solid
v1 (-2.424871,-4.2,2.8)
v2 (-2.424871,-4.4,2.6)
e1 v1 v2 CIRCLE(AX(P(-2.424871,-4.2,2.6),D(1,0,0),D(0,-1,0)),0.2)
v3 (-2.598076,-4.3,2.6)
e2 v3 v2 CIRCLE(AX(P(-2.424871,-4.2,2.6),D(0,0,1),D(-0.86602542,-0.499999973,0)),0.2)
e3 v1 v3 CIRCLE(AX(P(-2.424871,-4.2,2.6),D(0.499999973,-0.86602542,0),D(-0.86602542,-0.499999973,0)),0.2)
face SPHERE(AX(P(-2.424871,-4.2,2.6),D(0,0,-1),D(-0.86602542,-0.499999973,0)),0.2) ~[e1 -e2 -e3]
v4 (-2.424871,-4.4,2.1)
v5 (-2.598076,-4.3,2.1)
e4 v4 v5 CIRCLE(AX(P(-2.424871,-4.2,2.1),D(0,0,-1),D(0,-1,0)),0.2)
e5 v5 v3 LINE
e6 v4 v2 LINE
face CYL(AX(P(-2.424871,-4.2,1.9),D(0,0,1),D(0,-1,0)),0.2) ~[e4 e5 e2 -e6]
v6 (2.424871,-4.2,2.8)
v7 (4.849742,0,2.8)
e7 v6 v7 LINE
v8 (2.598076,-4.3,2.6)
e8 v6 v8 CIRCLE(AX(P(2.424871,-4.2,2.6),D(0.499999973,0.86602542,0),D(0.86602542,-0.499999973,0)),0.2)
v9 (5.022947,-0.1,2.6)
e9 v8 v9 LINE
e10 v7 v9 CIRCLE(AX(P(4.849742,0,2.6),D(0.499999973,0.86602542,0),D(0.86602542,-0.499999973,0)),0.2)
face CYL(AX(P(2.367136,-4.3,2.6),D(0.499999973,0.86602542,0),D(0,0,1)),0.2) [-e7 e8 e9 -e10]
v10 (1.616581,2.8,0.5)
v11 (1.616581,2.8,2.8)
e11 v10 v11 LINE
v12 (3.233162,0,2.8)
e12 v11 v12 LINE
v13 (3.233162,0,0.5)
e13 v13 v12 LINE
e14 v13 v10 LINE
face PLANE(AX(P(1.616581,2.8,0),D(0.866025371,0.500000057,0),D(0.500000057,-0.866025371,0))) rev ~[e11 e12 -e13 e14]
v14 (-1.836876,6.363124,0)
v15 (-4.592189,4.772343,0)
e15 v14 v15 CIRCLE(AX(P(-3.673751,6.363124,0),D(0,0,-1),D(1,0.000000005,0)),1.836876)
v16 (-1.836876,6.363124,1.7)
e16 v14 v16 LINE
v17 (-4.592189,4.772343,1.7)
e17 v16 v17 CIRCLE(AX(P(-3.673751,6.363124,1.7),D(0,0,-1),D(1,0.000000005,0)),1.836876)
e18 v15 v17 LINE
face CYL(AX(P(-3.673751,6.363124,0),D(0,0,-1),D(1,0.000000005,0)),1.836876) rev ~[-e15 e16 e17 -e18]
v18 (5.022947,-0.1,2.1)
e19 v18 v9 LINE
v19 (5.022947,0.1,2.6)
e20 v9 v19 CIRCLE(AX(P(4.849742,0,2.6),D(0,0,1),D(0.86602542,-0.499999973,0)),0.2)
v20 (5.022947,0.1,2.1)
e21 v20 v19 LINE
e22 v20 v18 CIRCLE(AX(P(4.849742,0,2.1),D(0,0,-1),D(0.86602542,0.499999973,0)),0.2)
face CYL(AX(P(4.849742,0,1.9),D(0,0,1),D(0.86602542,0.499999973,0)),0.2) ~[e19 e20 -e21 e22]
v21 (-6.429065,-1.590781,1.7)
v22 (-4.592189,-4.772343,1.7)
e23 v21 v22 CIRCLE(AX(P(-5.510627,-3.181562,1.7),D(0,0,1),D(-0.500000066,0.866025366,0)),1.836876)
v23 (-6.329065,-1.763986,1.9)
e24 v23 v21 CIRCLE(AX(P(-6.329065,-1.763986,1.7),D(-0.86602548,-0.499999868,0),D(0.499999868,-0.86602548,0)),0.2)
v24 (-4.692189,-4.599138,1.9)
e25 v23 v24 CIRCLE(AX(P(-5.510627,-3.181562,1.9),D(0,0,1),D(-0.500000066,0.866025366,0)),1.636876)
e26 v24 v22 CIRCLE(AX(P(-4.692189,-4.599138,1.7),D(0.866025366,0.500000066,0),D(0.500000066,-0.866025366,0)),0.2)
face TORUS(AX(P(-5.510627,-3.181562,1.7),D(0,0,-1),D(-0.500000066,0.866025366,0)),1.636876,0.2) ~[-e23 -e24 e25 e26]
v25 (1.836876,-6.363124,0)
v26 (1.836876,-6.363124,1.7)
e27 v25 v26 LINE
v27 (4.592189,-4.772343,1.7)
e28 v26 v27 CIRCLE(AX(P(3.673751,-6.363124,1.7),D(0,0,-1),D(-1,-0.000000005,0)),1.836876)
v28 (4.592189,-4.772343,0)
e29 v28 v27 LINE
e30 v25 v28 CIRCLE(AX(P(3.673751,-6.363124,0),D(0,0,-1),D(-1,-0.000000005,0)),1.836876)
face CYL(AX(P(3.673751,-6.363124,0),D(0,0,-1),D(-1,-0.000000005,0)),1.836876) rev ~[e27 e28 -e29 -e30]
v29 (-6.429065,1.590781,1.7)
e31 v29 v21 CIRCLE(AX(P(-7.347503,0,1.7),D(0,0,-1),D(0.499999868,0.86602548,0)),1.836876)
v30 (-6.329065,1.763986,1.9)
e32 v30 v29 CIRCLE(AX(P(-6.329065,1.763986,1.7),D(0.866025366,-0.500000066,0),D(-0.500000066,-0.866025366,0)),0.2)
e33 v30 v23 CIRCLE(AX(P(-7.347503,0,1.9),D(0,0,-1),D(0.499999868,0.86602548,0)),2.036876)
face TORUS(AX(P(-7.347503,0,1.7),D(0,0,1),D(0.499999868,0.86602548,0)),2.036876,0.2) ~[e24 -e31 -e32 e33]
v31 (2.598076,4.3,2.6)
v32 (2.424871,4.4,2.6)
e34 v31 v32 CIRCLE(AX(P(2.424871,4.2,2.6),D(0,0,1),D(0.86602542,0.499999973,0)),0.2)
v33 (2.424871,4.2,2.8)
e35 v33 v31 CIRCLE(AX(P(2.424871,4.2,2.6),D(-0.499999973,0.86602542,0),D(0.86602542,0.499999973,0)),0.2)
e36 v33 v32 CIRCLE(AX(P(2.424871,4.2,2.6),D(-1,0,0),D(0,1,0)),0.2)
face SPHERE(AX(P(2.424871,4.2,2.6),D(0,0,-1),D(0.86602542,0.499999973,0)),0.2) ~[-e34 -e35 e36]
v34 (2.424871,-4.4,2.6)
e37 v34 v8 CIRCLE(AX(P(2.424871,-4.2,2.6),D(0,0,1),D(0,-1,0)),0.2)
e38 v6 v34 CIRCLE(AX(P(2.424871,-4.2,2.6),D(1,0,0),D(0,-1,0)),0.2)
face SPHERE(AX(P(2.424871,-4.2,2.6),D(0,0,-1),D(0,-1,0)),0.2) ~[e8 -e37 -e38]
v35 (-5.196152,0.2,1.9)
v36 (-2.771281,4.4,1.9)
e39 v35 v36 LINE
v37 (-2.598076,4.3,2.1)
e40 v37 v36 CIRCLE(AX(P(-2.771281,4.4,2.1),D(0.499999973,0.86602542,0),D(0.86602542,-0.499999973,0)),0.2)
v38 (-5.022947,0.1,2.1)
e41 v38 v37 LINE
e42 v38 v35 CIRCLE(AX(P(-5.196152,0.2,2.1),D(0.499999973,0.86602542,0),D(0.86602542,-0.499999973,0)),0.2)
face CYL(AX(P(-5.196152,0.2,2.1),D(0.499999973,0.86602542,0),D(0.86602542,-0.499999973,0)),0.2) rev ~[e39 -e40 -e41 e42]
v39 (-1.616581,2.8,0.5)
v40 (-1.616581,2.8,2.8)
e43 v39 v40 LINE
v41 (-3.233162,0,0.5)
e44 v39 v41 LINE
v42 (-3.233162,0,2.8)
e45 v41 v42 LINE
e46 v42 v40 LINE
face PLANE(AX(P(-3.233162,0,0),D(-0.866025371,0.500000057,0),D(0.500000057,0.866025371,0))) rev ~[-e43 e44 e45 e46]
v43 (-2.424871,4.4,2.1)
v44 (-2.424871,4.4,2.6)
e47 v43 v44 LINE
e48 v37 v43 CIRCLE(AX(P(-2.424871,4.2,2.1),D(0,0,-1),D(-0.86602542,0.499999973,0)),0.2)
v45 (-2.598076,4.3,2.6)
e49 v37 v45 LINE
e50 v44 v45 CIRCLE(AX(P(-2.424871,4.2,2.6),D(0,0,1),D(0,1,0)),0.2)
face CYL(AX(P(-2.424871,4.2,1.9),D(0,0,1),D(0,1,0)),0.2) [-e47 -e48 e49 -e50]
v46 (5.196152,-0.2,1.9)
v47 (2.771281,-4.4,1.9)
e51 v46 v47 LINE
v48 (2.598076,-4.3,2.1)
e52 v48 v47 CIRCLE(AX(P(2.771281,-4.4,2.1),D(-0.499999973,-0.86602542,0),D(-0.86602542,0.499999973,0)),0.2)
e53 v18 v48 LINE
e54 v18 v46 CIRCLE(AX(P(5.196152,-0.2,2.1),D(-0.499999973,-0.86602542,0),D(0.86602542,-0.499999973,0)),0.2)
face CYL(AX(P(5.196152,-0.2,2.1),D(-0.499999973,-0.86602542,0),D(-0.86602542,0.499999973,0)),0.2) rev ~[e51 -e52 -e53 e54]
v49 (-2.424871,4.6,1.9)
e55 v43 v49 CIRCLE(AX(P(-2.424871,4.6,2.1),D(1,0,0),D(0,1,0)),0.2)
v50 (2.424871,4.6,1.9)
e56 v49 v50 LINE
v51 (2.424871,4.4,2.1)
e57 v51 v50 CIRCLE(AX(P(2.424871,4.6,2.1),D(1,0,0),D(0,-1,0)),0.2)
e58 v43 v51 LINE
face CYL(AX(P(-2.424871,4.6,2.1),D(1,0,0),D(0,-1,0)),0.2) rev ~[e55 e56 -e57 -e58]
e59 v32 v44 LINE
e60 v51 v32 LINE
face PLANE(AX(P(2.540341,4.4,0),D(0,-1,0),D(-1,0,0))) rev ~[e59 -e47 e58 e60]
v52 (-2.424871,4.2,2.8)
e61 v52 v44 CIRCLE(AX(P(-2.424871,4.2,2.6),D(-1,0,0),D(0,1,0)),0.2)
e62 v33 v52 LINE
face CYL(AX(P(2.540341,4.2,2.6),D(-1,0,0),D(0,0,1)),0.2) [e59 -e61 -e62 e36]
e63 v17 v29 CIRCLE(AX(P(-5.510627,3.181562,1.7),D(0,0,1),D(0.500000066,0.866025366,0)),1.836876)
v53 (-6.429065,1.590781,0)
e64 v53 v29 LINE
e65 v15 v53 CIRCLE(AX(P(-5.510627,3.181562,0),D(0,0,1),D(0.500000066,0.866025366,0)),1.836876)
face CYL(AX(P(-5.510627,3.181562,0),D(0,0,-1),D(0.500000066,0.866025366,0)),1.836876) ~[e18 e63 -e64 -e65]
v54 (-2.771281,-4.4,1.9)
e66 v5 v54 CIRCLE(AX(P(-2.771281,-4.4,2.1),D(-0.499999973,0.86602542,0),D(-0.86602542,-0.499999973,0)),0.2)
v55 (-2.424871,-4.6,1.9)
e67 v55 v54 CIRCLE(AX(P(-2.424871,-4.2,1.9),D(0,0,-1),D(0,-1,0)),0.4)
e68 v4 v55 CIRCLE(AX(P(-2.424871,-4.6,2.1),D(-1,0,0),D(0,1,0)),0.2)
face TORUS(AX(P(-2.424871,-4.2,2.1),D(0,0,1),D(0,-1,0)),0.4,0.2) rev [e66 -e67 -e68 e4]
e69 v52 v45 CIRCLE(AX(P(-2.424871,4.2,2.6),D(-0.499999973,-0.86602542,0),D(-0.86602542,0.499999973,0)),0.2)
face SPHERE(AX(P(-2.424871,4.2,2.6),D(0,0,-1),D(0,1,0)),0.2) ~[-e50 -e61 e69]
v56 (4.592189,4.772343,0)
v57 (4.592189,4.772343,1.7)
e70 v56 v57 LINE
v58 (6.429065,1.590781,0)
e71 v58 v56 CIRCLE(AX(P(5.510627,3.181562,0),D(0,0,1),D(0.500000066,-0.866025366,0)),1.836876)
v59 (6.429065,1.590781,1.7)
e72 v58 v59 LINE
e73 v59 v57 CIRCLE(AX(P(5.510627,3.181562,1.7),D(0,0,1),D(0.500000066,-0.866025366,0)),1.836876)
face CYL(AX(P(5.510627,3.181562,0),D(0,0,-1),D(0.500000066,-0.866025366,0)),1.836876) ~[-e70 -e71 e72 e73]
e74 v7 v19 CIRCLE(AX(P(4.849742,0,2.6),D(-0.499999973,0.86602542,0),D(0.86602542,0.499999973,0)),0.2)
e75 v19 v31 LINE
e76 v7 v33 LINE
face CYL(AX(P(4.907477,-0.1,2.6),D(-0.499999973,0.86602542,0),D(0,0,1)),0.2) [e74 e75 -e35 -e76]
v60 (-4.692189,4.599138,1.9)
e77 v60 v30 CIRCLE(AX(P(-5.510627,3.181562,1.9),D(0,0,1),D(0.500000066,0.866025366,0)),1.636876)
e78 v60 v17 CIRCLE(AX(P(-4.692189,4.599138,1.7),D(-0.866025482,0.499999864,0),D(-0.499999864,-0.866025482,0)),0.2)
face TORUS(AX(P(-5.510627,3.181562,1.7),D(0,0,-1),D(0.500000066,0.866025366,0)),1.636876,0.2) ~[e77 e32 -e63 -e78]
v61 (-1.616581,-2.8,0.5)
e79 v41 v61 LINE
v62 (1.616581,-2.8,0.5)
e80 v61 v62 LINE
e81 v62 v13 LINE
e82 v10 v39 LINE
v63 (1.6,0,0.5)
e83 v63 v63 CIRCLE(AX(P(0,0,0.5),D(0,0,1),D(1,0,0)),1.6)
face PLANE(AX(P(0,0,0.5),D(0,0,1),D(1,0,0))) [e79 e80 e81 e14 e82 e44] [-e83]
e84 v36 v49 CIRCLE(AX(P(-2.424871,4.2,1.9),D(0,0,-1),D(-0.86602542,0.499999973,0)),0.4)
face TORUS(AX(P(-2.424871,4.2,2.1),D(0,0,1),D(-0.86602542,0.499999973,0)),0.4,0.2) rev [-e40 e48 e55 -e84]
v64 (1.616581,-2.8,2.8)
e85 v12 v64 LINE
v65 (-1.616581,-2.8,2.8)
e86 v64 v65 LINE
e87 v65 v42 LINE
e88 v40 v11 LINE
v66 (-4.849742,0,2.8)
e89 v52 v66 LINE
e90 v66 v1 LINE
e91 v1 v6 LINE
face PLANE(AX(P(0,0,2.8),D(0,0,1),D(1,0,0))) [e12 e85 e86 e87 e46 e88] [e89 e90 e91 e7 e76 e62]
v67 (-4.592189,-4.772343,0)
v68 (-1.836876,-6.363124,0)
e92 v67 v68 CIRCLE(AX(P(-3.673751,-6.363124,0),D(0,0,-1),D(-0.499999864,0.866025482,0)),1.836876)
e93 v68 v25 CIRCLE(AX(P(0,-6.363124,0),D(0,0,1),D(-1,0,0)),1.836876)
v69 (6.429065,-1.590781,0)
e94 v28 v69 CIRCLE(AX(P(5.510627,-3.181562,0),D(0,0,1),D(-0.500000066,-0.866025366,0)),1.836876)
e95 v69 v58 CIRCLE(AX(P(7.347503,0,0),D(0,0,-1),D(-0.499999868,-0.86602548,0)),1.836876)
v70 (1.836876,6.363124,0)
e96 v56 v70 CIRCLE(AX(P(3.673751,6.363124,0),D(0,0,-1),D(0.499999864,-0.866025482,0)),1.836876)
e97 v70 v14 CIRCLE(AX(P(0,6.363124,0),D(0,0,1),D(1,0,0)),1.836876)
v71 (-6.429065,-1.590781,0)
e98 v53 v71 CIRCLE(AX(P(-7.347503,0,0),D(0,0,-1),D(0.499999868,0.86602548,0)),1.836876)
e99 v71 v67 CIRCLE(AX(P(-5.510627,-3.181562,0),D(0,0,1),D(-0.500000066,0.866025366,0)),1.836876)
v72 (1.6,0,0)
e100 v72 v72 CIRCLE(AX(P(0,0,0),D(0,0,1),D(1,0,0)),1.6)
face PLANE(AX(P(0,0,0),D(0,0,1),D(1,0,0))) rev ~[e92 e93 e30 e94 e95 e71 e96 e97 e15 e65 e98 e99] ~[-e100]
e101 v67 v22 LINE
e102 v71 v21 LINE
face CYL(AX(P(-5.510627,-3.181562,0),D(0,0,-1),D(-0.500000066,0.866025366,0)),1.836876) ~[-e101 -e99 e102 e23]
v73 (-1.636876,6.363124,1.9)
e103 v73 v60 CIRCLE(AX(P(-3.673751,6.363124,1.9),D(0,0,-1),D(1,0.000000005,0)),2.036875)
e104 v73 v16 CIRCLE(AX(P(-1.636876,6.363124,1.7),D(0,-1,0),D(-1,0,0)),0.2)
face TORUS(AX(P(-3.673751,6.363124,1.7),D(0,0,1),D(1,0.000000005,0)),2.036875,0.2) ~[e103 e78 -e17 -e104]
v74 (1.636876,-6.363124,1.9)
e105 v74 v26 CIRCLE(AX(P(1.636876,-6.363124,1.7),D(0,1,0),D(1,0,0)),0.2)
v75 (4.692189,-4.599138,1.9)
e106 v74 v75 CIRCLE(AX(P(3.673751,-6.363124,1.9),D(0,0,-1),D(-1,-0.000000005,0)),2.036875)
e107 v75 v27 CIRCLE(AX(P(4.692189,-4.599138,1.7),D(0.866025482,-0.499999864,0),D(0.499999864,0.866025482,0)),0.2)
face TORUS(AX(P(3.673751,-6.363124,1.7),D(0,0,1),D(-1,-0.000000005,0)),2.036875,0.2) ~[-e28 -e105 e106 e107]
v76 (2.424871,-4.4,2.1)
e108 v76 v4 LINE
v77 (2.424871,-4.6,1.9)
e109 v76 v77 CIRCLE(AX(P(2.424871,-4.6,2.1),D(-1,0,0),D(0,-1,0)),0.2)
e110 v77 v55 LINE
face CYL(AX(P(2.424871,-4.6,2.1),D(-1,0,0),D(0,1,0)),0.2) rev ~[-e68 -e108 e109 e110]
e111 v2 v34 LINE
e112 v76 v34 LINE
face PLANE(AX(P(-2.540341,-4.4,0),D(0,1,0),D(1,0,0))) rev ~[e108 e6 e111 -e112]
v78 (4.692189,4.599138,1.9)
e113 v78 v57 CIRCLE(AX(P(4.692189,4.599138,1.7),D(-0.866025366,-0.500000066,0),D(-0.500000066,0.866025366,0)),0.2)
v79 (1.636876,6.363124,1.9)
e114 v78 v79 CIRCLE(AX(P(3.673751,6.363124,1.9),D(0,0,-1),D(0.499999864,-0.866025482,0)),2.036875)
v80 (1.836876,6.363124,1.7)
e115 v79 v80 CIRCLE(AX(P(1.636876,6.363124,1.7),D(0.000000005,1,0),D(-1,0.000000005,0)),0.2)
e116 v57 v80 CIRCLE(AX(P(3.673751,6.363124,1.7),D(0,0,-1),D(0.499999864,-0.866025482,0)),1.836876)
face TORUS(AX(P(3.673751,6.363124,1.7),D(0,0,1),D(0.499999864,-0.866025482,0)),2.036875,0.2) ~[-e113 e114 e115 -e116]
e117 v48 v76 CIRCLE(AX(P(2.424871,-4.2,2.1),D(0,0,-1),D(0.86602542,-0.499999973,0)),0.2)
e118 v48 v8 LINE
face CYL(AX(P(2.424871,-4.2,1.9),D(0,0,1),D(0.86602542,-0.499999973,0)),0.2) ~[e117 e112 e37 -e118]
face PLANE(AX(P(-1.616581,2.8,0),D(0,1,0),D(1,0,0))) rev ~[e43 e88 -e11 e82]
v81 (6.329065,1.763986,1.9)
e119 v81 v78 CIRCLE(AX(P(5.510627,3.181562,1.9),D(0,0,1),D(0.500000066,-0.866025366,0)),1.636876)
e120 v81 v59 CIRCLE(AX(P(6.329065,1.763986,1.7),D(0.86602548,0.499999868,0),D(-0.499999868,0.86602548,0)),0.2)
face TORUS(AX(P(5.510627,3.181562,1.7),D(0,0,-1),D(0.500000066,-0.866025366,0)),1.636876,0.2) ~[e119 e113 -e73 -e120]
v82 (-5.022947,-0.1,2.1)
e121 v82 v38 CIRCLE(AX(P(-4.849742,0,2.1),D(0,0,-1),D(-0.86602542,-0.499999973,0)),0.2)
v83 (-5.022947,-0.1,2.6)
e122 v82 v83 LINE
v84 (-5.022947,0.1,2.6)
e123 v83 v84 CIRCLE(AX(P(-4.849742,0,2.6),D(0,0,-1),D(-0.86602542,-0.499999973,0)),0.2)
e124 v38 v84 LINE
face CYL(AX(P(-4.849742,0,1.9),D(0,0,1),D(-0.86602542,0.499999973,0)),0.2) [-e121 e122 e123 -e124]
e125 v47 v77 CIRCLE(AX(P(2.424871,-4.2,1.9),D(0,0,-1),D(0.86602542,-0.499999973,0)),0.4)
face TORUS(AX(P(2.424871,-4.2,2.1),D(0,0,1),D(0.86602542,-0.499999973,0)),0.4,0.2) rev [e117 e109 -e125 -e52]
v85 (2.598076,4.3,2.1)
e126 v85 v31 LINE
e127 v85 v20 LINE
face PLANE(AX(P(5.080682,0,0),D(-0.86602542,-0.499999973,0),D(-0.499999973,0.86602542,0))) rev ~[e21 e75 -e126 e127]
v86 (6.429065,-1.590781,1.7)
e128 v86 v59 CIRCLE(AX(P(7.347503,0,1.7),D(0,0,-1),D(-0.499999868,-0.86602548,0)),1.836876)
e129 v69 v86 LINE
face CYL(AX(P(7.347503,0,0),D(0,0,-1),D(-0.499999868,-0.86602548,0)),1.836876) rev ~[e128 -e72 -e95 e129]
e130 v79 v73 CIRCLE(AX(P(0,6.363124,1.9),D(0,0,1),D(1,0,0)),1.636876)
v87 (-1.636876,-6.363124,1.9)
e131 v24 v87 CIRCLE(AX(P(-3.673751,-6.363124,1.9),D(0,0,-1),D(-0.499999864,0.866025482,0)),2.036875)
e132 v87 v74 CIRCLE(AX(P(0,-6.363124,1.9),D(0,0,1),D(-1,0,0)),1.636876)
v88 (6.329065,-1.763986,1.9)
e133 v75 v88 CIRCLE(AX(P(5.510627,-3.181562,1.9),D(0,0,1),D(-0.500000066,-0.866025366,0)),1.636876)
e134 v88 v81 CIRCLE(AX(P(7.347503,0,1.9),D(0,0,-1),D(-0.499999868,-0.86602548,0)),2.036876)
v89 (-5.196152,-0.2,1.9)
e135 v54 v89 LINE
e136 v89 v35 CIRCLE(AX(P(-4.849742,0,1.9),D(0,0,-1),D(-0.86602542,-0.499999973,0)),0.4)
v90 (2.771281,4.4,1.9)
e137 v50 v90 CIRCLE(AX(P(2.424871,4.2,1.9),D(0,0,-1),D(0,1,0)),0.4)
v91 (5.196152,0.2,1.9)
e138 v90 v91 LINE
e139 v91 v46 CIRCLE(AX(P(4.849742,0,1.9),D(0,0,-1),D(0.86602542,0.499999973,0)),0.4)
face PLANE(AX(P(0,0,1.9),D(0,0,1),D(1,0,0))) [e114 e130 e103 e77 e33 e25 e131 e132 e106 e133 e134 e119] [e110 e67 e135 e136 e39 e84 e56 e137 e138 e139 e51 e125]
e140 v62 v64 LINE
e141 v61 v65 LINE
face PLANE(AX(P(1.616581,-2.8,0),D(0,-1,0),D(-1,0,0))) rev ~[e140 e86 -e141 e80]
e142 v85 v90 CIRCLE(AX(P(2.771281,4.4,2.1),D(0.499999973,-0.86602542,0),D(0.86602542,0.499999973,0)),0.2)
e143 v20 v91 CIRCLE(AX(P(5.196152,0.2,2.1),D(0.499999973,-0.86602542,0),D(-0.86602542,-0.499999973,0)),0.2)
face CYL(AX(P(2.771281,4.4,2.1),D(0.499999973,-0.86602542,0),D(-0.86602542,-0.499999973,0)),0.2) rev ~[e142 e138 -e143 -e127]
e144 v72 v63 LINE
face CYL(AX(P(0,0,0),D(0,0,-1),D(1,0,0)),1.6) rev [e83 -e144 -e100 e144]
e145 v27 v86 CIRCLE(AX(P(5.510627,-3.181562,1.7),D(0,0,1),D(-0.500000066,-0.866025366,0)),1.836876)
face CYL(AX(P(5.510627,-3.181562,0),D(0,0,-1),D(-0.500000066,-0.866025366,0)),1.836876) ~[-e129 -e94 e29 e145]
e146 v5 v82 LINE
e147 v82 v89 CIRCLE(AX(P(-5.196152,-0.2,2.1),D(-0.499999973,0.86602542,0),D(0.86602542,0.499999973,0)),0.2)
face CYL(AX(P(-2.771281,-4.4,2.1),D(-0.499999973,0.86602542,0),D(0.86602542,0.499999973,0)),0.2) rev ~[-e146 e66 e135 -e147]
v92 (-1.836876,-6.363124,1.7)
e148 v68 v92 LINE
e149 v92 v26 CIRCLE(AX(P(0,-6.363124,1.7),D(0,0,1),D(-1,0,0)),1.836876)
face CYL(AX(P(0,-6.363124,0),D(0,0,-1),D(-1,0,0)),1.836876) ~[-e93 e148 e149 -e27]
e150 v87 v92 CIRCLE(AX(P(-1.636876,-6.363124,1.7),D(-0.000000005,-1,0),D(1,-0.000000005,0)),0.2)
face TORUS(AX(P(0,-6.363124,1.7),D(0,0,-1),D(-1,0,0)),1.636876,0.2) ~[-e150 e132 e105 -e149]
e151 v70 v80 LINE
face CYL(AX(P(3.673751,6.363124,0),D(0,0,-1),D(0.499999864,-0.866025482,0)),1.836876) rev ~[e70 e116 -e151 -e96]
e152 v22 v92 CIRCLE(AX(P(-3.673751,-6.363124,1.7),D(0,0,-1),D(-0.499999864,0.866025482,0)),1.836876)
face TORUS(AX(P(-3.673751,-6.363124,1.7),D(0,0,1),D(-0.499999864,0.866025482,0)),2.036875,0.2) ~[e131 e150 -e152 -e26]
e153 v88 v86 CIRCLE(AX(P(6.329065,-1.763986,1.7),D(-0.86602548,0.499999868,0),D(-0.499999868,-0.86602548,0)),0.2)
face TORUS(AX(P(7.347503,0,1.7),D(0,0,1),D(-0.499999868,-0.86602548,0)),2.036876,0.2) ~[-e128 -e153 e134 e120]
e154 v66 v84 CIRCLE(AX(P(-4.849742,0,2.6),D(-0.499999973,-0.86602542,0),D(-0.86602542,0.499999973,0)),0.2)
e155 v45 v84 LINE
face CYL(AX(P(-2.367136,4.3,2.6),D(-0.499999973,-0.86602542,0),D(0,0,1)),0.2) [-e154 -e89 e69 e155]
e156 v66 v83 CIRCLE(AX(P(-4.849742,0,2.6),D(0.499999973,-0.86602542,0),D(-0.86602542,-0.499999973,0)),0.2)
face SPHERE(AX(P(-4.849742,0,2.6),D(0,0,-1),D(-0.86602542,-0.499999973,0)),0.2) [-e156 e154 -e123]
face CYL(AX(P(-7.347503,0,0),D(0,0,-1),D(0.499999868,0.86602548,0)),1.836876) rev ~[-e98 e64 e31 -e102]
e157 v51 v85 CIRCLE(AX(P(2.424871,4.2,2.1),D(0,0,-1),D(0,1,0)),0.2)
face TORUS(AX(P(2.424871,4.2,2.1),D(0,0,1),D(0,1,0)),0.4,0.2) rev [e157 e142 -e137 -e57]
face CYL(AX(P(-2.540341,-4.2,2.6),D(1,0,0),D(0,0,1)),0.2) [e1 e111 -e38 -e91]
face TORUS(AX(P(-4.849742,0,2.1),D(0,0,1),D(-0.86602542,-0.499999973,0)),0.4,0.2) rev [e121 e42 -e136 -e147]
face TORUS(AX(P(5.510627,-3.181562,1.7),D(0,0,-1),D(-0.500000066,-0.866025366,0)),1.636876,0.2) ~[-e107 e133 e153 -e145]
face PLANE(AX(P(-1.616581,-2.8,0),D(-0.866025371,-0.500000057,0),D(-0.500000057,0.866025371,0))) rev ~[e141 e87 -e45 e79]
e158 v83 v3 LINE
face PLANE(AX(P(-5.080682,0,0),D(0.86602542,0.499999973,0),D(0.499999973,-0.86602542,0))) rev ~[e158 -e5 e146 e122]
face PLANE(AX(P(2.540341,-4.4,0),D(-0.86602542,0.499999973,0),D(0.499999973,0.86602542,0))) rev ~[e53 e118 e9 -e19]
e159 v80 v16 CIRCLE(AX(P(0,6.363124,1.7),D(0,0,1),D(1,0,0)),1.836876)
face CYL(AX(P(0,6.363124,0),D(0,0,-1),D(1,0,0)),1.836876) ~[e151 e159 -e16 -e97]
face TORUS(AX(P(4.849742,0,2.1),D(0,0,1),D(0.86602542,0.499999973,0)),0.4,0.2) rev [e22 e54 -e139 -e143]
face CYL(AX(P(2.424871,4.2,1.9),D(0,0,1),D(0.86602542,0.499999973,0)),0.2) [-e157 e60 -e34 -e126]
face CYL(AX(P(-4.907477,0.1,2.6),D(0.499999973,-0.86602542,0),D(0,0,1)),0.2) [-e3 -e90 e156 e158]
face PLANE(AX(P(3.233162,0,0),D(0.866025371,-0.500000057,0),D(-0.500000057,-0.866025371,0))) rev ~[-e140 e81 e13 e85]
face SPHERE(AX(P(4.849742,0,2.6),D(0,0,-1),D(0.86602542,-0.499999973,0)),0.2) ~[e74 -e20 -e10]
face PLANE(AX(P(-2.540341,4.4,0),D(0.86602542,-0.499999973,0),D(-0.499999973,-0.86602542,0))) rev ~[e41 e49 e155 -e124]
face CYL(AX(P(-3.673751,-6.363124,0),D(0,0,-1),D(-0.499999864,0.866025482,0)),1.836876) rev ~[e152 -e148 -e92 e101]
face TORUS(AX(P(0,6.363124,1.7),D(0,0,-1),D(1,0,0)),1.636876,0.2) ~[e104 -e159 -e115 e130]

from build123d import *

# Parameters (mm, degrees)
F1_DEPTH = 1.9
F2_DEPTH = 2.8
F0_R     = 1.6
F3_DEPTH = 0.5
F4_R     = 0.2
F5_R     = 0.2


with BuildPart() as f1:
    # F0 (on Top) → F1 (new body)
    with BuildSketch(Plane.XY):
        with BuildLine():
            ThreePointArc((4.592189, 4.772343), (2.755314, 4.772343), (1.836876, 6.363124))
            ThreePointArc((1.836876, 6.363124), (0, 8.2), (-1.836876, 6.363124))
            ThreePointArc((-1.836876, 6.363124), (-2.755314, 4.772343), (-4.592189, 4.772343))
            ThreePointArc((-4.592189, 4.772343), (-7.101408, 4.1), (-6.429065, 1.590781))
            ThreePointArc((-6.429065, 1.590781), (-5.510627, 0), (-6.429065, -1.590781))
            ThreePointArc((-6.429065, -1.590781), (-7.101408, -4.1), (-4.592189, -4.772343))
            ThreePointArc((-4.592189, -4.772343), (-2.755314, -4.772343), (-1.836876, -6.363124))
            ThreePointArc((-1.836876, -6.363124), (0, -8.2), (1.836876, -6.363124))
            ThreePointArc((1.836876, -6.363124), (2.755314, -4.772343), (4.592189, -4.772343))
            ThreePointArc((4.592189, -4.772343), (7.101408, -4.1), (6.429065, -1.590781))
            ThreePointArc((6.429065, -1.590781), (5.510627, 0), (6.429065, 1.590781))
            ThreePointArc((6.429065, 1.590781), (7.101408, 4.1), (4.592189, 4.772343))
        make_face()
        Polygon((-2.540341, 4.4), (2.540341, 4.4), (5.080682, 0), (2.540341, -4.4), (-2.540341, -4.4), (-5.080682, 0), align=None, mode=Mode.SUBTRACT)
    extrude(amount=F1_DEPTH)

    # F0 (on Top) → F2 (join)
    with BuildSketch(Plane.XY):
        Polygon((5.080682, 0), (2.540341, 4.4), (-2.540341, 4.4), (-5.080682, 0), (-2.540341, -4.4), (2.540341, -4.4), align=None)
        Polygon((-1.616581, 2.8), (1.616581, 2.8), (3.233162, 0), (1.616581, -2.8), (-1.616581, -2.8), (-3.233162, 0), align=None, mode=Mode.SUBTRACT)
    extrude(amount=F2_DEPTH)

    # F0 (on Top) → F3 (join)
    with BuildSketch(Plane.XY):
        Polygon((3.233162, 0), (1.616581, 2.8), (-1.616581, 2.8), (-3.233162, 0), (-1.616581, -2.8), (1.616581, -2.8), align=None)
        Circle(F0_R, mode=Mode.SUBTRACT)
    extrude(amount=F3_DEPTH)

    # F4
    f4_edges = [f1.edges().sort_by_distance(p)[0] for p in [
        (3.810512, -2.2, 2.8),
        (2.540341, -4.4, 2.35),
        (0, -4.4, 2.8),
        (-2.540341, -4.4, 2.35),
        (-3.810512, -2.2, 2.8),
        (-3.810512, 2.2, 2.8),
        (-5.080682, 0, 2.35),
        (-2.540341, 4.4, 2.35),
        (0, 4.4, 2.8),
        (2.540341, 4.4, 2.35),
        (3.810512, 2.2, 2.8),
        (5.080682, 0, 2.35),
    ]]
    fillet(f4_edges, radius=F4_R)

    # F5
    f5_edges = [f1.edges().sort_by_distance(p)[0] for p in [
        (-3.810512, 2.2, 1.9),
        (-5.049742, 0, 1.9),
        (-2.524871, 4.373205, 1.9),
        (-3.810512, -2.2, 1.9),
        (0, 4.4, 1.9),
        (-2.524871, -4.373205, 1.9),
        (2.524871, 4.373205, 1.9),
        (0, -4.4, 1.9),
        (3.810512, 2.2, 1.9),
        (2.524871, -4.373205, 1.9),
        (5.049742, 0, 1.9),
        (3.810512, -2.2, 1.9),
        (5.510627, 0, 1.9),
        (7.101408, 4.1, 1.9),
        (2.755314, 4.772343, 1.9),
        (0, 8.2, 1.9),
        (-2.755314, 4.772343, 1.9),
        (-7.101408, 4.1, 1.9),
        (-5.510627, 0, 1.9),
        (-7.101408, -4.1, 1.9),
        (-2.755314, -4.772343, 1.9),
        (0, -8.2, 1.9),
        (2.755314, -4.772343, 1.9),
        (7.101408, -4.1, 1.9),
    ]]
    fillet(f5_edges, radius=F5_R)


solid = f1.part
